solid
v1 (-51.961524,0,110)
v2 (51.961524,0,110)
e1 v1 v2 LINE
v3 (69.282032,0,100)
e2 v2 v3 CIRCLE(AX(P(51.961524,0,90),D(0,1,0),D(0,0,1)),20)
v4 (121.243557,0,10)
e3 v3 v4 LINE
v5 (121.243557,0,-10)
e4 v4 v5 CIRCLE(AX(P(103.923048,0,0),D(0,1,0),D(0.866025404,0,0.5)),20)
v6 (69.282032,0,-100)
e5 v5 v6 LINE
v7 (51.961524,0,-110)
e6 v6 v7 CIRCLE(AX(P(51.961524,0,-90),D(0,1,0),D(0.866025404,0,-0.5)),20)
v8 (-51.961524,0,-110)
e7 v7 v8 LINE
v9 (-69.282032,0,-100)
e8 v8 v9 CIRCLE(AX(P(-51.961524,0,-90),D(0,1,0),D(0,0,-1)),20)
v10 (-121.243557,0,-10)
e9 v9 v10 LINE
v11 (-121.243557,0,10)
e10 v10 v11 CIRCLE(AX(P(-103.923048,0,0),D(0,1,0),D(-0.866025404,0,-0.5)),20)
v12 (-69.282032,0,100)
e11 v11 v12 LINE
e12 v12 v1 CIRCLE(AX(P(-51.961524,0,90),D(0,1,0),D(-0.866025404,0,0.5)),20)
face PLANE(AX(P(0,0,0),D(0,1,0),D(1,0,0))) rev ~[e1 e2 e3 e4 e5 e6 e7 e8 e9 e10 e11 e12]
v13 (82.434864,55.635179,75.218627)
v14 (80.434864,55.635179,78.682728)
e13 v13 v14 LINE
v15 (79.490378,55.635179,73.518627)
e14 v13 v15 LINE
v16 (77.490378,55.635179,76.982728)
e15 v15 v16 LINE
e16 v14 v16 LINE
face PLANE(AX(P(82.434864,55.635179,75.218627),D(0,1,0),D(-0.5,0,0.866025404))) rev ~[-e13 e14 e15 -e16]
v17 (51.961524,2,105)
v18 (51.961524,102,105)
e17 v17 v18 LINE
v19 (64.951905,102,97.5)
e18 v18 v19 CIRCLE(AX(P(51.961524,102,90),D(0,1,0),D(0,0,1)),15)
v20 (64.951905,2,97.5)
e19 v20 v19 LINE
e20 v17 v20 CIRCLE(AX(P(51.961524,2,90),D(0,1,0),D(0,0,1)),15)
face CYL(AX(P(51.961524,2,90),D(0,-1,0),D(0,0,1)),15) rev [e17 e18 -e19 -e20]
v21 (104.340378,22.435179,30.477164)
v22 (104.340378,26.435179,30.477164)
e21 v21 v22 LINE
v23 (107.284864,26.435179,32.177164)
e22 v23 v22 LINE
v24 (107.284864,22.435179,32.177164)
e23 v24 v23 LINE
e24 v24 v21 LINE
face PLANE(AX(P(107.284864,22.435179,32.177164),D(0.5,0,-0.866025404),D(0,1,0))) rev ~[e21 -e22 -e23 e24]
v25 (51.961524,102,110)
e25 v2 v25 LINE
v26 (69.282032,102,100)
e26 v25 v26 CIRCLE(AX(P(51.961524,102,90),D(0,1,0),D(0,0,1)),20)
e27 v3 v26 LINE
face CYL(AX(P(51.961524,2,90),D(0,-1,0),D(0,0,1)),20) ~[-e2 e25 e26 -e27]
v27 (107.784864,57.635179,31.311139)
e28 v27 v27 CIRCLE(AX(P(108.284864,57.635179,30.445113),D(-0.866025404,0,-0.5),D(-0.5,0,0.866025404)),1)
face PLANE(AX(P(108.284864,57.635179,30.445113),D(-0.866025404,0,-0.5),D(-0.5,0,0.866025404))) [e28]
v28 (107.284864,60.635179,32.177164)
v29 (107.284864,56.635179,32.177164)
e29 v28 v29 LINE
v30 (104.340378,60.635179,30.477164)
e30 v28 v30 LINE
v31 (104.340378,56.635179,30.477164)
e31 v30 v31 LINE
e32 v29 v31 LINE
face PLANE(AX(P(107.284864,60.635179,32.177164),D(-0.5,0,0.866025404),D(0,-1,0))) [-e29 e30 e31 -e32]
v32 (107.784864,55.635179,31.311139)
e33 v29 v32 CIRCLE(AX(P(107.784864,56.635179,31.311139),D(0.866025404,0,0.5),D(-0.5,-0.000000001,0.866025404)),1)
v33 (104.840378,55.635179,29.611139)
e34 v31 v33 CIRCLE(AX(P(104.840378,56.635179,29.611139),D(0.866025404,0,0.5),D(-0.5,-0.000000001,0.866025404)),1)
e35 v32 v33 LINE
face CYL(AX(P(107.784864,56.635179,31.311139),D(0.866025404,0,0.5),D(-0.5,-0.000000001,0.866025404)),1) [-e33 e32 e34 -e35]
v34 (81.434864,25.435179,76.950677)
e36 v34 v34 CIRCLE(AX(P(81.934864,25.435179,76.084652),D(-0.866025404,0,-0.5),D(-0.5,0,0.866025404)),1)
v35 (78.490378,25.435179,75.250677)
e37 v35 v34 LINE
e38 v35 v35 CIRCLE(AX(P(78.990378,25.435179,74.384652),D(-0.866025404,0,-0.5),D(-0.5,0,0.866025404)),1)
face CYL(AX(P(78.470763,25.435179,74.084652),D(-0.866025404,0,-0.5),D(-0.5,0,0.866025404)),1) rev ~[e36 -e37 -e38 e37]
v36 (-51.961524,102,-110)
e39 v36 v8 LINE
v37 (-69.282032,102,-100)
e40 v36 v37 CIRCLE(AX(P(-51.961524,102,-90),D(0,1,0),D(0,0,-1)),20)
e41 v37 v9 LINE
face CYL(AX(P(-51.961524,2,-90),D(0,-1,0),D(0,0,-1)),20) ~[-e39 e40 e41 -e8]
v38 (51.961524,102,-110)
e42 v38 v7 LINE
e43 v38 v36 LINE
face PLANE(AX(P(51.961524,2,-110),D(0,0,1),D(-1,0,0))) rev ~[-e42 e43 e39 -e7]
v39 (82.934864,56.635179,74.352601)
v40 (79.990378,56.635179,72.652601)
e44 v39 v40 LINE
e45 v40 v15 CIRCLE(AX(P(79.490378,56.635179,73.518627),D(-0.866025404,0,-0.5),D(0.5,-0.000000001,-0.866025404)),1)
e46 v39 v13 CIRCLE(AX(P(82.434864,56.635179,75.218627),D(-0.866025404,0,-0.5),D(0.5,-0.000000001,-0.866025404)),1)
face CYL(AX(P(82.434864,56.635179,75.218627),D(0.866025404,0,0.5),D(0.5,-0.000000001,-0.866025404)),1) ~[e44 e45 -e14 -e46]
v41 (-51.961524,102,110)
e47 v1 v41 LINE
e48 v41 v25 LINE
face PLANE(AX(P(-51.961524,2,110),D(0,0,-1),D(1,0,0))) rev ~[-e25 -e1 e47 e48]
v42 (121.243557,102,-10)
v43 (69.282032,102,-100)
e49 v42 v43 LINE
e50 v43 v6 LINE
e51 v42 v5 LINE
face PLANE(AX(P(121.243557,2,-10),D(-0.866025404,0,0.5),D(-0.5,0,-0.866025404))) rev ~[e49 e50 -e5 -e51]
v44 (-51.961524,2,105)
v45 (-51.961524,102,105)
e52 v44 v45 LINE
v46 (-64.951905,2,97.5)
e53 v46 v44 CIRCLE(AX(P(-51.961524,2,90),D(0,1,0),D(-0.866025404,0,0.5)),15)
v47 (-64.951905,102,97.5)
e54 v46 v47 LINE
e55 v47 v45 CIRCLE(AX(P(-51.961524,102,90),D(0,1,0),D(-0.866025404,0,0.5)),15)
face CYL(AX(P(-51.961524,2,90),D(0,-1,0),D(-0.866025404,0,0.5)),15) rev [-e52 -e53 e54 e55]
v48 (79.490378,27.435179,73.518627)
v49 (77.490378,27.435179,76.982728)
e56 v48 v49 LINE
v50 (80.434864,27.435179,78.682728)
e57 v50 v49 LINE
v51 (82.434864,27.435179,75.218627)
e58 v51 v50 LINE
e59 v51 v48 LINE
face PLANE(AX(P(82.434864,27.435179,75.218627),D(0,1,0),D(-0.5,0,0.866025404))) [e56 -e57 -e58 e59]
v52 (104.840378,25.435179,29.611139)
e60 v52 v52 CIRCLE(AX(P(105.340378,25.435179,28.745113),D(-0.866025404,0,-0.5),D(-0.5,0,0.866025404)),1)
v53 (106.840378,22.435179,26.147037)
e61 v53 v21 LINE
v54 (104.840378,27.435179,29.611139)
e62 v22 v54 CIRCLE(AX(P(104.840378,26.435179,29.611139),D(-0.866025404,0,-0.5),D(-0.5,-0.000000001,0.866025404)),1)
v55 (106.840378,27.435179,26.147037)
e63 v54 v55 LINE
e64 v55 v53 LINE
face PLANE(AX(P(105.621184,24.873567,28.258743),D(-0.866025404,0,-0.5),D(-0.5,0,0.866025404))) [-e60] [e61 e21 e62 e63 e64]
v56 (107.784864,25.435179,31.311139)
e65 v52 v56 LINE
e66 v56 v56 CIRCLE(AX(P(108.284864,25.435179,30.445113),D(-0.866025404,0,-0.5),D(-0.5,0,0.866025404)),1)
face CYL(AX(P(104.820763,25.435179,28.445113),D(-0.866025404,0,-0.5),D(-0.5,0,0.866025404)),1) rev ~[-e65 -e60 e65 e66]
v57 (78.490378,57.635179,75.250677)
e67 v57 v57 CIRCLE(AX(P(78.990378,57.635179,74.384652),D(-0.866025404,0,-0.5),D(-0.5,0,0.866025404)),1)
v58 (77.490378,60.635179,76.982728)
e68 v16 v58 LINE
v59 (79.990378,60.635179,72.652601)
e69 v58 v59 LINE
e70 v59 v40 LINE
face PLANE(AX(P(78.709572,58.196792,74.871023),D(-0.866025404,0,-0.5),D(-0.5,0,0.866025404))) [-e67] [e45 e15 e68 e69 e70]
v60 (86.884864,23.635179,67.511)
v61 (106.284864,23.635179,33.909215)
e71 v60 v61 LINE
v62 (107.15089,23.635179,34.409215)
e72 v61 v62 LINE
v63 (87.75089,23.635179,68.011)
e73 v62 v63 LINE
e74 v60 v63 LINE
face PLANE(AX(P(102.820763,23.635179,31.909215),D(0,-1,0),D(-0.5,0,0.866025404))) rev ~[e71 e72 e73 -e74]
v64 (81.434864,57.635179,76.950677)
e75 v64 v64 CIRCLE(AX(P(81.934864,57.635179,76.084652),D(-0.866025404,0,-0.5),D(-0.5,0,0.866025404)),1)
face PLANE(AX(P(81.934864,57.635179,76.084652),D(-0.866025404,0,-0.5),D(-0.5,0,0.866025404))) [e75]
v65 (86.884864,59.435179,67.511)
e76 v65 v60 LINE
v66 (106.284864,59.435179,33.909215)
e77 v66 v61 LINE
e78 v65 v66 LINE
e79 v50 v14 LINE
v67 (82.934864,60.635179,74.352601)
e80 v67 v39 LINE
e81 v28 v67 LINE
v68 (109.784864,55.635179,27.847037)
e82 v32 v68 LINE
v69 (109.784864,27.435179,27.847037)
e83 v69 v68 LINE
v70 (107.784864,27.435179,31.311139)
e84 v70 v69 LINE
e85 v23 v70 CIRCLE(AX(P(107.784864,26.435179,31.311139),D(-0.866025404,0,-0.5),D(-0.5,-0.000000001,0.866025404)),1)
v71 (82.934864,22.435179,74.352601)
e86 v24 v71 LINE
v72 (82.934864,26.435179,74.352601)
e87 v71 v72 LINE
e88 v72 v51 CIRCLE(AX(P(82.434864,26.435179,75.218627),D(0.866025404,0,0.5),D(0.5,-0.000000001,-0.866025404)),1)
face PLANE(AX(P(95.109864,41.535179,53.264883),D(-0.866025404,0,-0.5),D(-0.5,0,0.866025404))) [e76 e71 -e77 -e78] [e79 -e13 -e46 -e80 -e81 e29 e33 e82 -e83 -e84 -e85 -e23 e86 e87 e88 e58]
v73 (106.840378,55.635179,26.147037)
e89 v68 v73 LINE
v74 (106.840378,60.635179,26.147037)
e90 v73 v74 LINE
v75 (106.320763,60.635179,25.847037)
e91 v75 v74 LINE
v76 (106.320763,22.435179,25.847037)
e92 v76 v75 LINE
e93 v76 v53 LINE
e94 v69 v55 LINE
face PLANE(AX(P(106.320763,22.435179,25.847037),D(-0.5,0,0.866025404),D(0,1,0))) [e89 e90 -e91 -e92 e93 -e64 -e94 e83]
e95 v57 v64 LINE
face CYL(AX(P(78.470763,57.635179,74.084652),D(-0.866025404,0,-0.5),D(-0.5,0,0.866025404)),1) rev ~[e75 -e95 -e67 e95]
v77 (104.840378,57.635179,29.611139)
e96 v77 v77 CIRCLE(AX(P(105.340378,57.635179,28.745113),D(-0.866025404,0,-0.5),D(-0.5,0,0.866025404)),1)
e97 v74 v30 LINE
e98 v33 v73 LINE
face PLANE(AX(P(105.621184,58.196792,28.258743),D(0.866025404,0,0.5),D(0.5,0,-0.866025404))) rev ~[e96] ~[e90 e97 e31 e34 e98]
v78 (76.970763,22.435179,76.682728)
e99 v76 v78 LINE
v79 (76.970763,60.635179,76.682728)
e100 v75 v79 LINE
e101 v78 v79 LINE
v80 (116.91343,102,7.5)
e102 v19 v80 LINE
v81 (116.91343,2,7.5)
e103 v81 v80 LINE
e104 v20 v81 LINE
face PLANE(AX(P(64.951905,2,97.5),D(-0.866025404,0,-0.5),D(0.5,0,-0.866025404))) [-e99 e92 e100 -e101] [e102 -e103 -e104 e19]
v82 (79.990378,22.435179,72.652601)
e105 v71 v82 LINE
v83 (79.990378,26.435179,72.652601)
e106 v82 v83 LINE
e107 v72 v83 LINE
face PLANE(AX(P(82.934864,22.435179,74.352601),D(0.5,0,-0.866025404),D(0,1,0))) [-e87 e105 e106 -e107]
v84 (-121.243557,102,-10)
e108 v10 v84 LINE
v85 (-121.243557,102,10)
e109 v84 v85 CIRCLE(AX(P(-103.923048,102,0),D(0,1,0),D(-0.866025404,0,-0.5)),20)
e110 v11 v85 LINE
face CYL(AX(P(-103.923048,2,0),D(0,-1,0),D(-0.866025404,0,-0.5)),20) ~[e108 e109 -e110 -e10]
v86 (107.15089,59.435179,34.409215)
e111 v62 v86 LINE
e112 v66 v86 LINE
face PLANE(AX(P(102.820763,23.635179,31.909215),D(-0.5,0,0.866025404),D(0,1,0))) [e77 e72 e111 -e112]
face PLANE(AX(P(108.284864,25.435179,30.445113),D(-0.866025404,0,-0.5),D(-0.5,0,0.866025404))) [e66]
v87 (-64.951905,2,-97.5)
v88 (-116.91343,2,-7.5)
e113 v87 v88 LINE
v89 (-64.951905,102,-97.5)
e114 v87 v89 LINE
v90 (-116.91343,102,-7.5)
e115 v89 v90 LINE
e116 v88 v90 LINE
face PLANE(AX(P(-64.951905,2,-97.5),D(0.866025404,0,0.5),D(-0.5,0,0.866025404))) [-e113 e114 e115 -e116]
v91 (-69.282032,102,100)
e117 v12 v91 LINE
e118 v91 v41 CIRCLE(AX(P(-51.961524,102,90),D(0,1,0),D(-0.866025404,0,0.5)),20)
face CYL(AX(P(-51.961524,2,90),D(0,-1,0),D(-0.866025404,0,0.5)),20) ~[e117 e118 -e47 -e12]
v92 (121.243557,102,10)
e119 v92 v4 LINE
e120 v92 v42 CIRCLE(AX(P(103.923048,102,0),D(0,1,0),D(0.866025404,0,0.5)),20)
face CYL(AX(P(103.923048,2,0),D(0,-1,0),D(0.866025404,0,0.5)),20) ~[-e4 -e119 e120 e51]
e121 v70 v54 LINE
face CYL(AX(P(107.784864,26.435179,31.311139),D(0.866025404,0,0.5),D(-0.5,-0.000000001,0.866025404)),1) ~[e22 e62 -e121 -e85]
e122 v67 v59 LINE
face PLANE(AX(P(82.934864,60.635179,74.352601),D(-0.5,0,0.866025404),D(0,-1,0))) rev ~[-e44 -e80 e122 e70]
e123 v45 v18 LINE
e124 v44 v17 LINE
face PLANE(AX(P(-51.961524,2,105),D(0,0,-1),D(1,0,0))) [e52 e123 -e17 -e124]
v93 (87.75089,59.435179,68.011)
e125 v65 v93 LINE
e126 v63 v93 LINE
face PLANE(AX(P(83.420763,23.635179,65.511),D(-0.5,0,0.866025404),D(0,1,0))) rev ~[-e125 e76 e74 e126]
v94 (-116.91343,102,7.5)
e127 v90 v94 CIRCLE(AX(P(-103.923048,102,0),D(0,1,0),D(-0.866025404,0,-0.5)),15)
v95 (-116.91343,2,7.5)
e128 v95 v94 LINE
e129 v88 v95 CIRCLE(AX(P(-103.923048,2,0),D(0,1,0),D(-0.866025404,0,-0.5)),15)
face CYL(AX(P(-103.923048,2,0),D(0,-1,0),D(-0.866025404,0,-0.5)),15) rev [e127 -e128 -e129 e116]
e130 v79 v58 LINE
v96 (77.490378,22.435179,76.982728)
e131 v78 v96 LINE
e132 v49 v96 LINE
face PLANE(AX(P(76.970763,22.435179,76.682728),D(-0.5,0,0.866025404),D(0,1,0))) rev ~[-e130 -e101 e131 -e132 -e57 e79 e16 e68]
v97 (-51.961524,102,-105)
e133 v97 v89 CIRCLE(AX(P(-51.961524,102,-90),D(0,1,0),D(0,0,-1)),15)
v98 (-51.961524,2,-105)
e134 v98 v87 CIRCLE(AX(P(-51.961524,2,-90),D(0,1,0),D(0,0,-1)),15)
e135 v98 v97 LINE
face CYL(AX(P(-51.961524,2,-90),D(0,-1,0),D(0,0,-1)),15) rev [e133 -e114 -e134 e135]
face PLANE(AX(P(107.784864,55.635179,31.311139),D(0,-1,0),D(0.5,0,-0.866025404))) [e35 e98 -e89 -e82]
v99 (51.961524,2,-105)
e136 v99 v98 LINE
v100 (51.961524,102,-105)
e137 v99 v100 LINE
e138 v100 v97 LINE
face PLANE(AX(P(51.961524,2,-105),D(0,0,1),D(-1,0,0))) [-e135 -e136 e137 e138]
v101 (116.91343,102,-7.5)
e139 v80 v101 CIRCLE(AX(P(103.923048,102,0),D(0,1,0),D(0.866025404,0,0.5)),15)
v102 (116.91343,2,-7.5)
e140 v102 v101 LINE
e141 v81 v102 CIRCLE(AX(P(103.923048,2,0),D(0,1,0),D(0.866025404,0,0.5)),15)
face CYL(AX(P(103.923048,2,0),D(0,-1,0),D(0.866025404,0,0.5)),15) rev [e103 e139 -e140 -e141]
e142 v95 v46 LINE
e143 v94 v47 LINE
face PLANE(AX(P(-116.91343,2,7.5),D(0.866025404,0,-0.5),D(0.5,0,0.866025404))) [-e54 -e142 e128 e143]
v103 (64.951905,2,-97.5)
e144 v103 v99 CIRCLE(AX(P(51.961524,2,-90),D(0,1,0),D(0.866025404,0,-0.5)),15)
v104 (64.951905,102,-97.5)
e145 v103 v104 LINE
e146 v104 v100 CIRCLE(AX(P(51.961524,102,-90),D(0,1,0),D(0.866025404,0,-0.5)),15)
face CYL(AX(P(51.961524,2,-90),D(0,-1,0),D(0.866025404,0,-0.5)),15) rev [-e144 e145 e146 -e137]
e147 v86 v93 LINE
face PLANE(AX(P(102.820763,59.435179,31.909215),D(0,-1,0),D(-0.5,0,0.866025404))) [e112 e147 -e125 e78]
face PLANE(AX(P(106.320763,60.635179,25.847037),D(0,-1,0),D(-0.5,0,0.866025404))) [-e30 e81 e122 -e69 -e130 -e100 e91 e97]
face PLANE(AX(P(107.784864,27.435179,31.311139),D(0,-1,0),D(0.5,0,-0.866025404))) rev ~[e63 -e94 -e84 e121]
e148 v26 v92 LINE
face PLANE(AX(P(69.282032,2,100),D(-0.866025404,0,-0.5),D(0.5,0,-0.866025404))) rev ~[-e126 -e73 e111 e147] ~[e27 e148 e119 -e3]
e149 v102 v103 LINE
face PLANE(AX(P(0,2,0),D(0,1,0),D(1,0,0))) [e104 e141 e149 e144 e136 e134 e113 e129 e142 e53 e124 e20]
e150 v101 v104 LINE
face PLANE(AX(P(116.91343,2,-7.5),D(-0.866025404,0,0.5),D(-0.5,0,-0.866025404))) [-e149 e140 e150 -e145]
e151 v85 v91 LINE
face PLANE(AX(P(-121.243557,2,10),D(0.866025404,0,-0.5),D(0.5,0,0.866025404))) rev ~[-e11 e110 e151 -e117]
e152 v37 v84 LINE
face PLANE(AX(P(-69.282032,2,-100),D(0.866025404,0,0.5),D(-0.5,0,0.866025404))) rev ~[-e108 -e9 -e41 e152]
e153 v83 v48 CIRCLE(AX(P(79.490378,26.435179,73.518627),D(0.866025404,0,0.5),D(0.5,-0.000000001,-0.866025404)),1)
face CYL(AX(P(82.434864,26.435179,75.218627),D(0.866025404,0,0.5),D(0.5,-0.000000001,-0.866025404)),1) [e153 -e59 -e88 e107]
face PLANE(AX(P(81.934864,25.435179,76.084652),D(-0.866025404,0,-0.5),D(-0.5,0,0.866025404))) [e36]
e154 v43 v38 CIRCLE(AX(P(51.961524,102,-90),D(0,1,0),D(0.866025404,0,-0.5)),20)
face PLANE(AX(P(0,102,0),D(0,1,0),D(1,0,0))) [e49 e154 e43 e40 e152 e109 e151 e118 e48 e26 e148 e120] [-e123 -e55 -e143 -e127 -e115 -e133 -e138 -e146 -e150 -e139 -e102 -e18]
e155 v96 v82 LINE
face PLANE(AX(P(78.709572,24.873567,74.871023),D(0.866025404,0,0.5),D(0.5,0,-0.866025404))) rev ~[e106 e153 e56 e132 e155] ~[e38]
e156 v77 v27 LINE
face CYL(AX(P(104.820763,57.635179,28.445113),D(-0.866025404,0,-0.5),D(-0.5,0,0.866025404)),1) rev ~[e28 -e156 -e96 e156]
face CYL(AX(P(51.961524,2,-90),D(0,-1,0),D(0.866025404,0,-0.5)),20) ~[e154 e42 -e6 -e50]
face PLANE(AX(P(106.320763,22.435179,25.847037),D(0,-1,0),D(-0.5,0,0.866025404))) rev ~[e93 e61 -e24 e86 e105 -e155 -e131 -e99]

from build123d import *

# Parameters (mm, degrees)
SALIENTE_EXTRUIR1_DEPTH = 2
SALIENTE_EXTRUIR2_DEPTH = 100
CROQUIS3_W              = 58.7
CROQUIS3_H              = 38.2
CROQUIS3_R              = 1.5
CROQUIS3_W_2            = 38.8
CROQUIS3_H_2            = 35.8
CORTAR_EXTRUIR1_DEPTH   = 1
CROQUIS4_W              = 38.8
CROQUIS4_H              = 35.8
CORTAR_EXTRUIR2_DEPTH   = 12
CROQUIS5_W              = 58.7
CROQUIS5_H              = 38.2
CROQUIS5_R              = 1.5
CORTAR_EXTRUIR3_DEPTH   = 3
CROQUIS6_R              = 1
SALIENTE_EXTRUIR3_DEPTH = 3.4
CROQUIS8_R              = 1
CORTAR_EXTRUIR5_DEPTH   = 4
CORTAR_EXTRUIR6_DEPTH   = 0.6


with BuildPart() as part:
    # Croquis1 → Saliente-Extruir1 (new body)
    with BuildSketch(Plane(origin=(0, 0, 0), x_dir=(1, 0, 0), z_dir=(0, 1, 0))):
        with BuildLine():
            Line((-121.24355653, -10), (-69.282032303, -100))
            ThreePointArc((-69.282032303, -100), (-61.961524227, -107.320508076), (-51.961524227, -110))
            Line((-51.961524227, -110), (51.961524227, -110))
            ThreePointArc((51.961524227, -110), (61.961524227, -107.320508076), (69.282032303, -100))
            Line((69.282032303, -100), (121.24355653, -10))
            ThreePointArc((121.24355653, -10), (123.923048454, 0), (121.24355653, 10))
            Line((121.24355653, 10), (69.282032303, 100))
            ThreePointArc((69.282032303, 100), (61.961524227, 107.320508076), (51.961524227, 110))
            Line((51.961524227, 110), (-51.961524227, 110))
            ThreePointArc((-51.961524227, 110), (-61.961524227, 107.320508076), (-69.282032303, 100))
            Line((-69.282032303, 100), (-121.24355653, 10))
            ThreePointArc((-121.24355653, 10), (-123.923048454, 0), (-121.24355653, -10))
        make_face()
    extrude(amount=SALIENTE_EXTRUIR1_DEPTH)

    # Croquis2 → Saliente-Extruir2 (add)
    with BuildSketch(Plane(origin=(0, 2, 0), x_dir=(1, 0, 0), z_dir=(0, 1, 0))):
        with BuildLine():
            Line((-69.282032303, 100), (-121.24355653, 10))
            ThreePointArc((-121.24355653, 10), (-123.923048454, 0), (-121.24355653, -10))
            Line((-121.24355653, -10), (-69.282032303, -100))
            ThreePointArc((-69.282032303, -100), (-61.961524227, -107.320508076), (-51.961524227, -110))
            Line((-51.961524227, -110), (51.961524227, -110))
            ThreePointArc((51.961524227, -110), (61.961524227, -107.320508076), (69.282032303, -100))
            Line((69.282032303, -100), (121.24355653, -10))
            ThreePointArc((121.24355653, -10), (123.923048454, 0), (121.24355653, 10))
            Line((121.24355653, 10), (69.282032303, 100))
            ThreePointArc((69.282032303, 100), (61.961524227, 107.320508076), (51.961524227, 110))
            Line((51.961524227, 110), (-51.961524227, 110))
            ThreePointArc((-51.961524227, 110), (-61.961524227, 107.320508076), (-69.282032303, 100))
        make_face()
        with BuildLine():
            Line((-64.951905284, 97.5), (-116.913429511, 7.5))
            ThreePointArc((-116.913429511, 7.5), (-118.923048454, 0), (-116.913429511, -7.5))
            Line((-116.913429511, -7.5), (-64.951905284, -97.5))
            ThreePointArc((-64.951905284, -97.5), (-59.461524227, -102.990381057), (-51.961524227, -105))
            Line((-51.961524227, -105), (51.961524227, -105))
            ThreePointArc((51.961524227, -105), (59.461524227, -102.990381057), (64.951905284, -97.5))
            Line((64.951905284, -97.5), (116.913429511, -7.5))
            ThreePointArc((116.913429511, -7.5), (118.923048454, 0), (116.913429511, 7.5))
            Line((116.913429511, 7.5), (64.951905284, 97.5))
            ThreePointArc((64.951905284, 97.5), (59.461524227, 102.990381057), (51.961524227, 105))
            Line((51.961524227, 105), (-51.961524227, 105))
            ThreePointArc((-51.961524227, 105), (-59.461524227, 102.990381057), (-64.951905284, 97.5))
        make_face(mode=Mode.SUBTRACT)
    extrude(amount=SALIENTE_EXTRUIR2_DEPTH)

    # Croquis3 → Cortar-Extruir1 (cut)
    with BuildSketch(Plane(origin=(90.932667397, 0, 52.5), x_dir=(-0.49999999999999983, 0, 0.8660254037844387), z_dir=(-0.8660254037844387, 0, -0.49999999999999983))):
        with Locations((-1.426190801, 41.535179267)):
            Rectangle(CROQUIS3_W, CROQUIS3_H)
        with Locations((24.923809199, 57.635179267)):
            Circle(CROQUIS3_R, mode=Mode.SUBTRACT)
        with Locations((24.923809199, 25.435179267)):
            Circle(CROQUIS3_R, mode=Mode.SUBTRACT)
        with Locations((-27.776190801, 25.435179267)):
            Circle(CROQUIS3_R, mode=Mode.SUBTRACT)
        with Locations((-27.776190801, 57.635179267)):
            Circle(CROQUIS3_R, mode=Mode.SUBTRACT)
        with Locations((-4.376190801, 41.535179267)):
            Rectangle(CROQUIS3_W_2, CROQUIS3_H_2, mode=Mode.SUBTRACT)
    extrude(amount=-CORTAR_EXTRUIR1_DEPTH, mode=Mode.SUBTRACT)

    # Croquis4 → Cortar-Extruir2 (cut)
    with BuildSketch(Plane(origin=(90.932667397, 0, 52.5), x_dir=(-0.49999999999999983, 0, 0.8660254037844387), z_dir=(-0.8660254037844387, 0, -0.49999999999999983))):
        with Locations((-4.376190801, 41.535179267)):
            Rectangle(CROQUIS4_W, CROQUIS4_H)
    extrude(amount=-CORTAR_EXTRUIR2_DEPTH, mode=Mode.SUBTRACT)

    # Croquis5 → Cortar-Extruir3 (cut)
    with BuildSketch(Plane(origin=(91.798692801, 0, 53), x_dir=(-0.5, 0, 0.8660254037844386), z_dir=(-0.8660254037844387, 0, -0.5000000000000001))):
        with Locations((-1.426190801, 41.535179267)):
            Rectangle(CROQUIS5_W, CROQUIS5_H)
        with Locations((24.923809199, 25.435179267)):
            Circle(CROQUIS5_R, mode=Mode.SUBTRACT)
        with Locations((24.923809199, 57.635179267)):
            Circle(CROQUIS5_R, mode=Mode.SUBTRACT)
        with Locations((-27.776190801, 57.635179267)):
            Circle(CROQUIS5_R, mode=Mode.SUBTRACT)
        with Locations((-27.776190801, 25.435179267)):
            Circle(CROQUIS5_R, mode=Mode.SUBTRACT)
    extrude(amount=-CORTAR_EXTRUIR3_DEPTH, mode=Mode.SUBTRACT)

    # Croquis6 → Saliente-Extruir3 (add)
    # profile 1 of 4: a face of its own
    with BuildSketch(Plane(origin=(94.396769013, 0, 54.5), x_dir=(-0.5000000000000001, 0, 0.8660254037844386), z_dir=(-0.8660254037844386, 0, -0.5000000000000001))):
        with BuildLine():
            Line((-30.776190801, 60.635179267), (-25.776190801, 60.635179267))
            Line((-25.776190801, 60.635179267), (-25.776190801, 56.635179267))
            ThreePointArc((-25.776190801, 56.635179267), (-26.06908402, 55.928072486), (-26.776190801, 55.635179267))
            Line((-26.776190801, 55.635179267), (-30.776190801, 55.635179267))
            Line((-30.776190801, 55.635179267), (-30.776190801, 60.635179267))
        make_face()
        with Locations((-27.776190801, 57.635179267)):
            Circle(CROQUIS6_R, mode=Mode.SUBTRACT)
    # profile 2 of 4: a face of its own
    with BuildSketch(Plane(origin=(94.396769013, 0, 54.5), x_dir=(-0.5000000000000001, 0, 0.8660254037844386), z_dir=(-0.8660254037844386, 0, -0.5000000000000001))):
        with BuildLine():
            Line((-30.776190801, 22.435179267), (-25.776190801, 22.435179267))
            Line((-25.776190801, 22.435179267), (-25.776190801, 26.435179267))
            ThreePointArc((-25.776190801, 26.435179267), (-26.06908402, 27.142286049), (-26.776190801, 27.435179267))
            Line((-26.776190801, 27.435179267), (-30.776190801, 27.435179267))
            Line((-30.776190801, 27.435179267), (-30.776190801, 22.435179267))
        make_face()
        with Locations((-27.776190801, 25.435179267)):
            Circle(CROQUIS6_R, mode=Mode.SUBTRACT)
    # profile 3 of 4: a face of its own
    with BuildSketch(Plane(origin=(94.396769013, 0, 54.5), x_dir=(-0.5000000000000001, 0, 0.8660254037844386), z_dir=(-0.8660254037844386, 0, -0.5000000000000001))):
        with BuildLine():
            Line((27.923809199, 22.435179267), (22.923809199, 22.435179267))
            Line((22.923809199, 22.435179267), (22.923809199, 26.435179267))
            ThreePointArc((22.923809199, 26.435179267), (23.216702418, 27.142286049), (23.923809199, 27.435179267))
            Line((23.923809199, 27.435179267), (27.923809199, 27.435179267))
            Line((27.923809199, 27.435179267), (27.923809199, 22.435179267))
        make_face()
        with Locations((24.923809199, 25.435179267)):
            Circle(CROQUIS6_R, mode=Mode.SUBTRACT)
    # profile 4 of 4: a face of its own
    with BuildSketch(Plane(origin=(94.396769013, 0, 54.5), x_dir=(-0.5000000000000001, 0, 0.8660254037844386), z_dir=(-0.8660254037844386, 0, -0.5000000000000001))):
        with BuildLine():
            Line((27.923809199, 60.635179267), (22.923809199, 60.635179267))
            Line((22.923809199, 60.635179267), (22.923809199, 56.635179267))
            ThreePointArc((22.923809199, 56.635179267), (23.216702418, 55.928072486), (23.923809199, 55.635179267))
            Line((23.923809199, 55.635179267), (27.923809199, 55.635179267))
            Line((27.923809199, 55.635179267), (27.923809199, 60.635179267))
        make_face()
        with Locations((24.923809199, 57.635179267)):
            Circle(CROQUIS6_R, mode=Mode.SUBTRACT)
    extrude(amount=SALIENTE_EXTRUIR3_DEPTH)

    # Croquis8 → Cortar-Extruir5 (cut)
    with BuildSketch(Plane(origin=(90.932667397, 0, 52.5), x_dir=(-0.49999999999999983, 0, 0.8660254037844387), z_dir=(-0.8660254037844387, 0, -0.49999999999999983))):
        with Locations((-27.776190801, 57.635179267)):
            Circle(CROQUIS8_R)
        with Locations((-27.776190801, 25.435179267)):
            Circle(CROQUIS8_R)
        with Locations((24.923809199, 25.435179267)):
            Circle(CROQUIS8_R)
        with Locations((24.923809199, 57.635179267)):
            Circle(CROQUIS8_R)
    extrude(amount=-CORTAR_EXTRUIR5_DEPTH, mode=Mode.SUBTRACT)

    # Croquis10 → Cortar-Extruir6 (cut)
    with BuildSketch(Plane(origin=(90.932667397, 0, 52.5), x_dir=(-0.49999999999999983, 0, 0.8660254037844387), z_dir=(-0.8660254037844387, 0, -0.49999999999999983))):
        Polygon((27.923809199, 22.435179267), (27.923809199, 60.635179267), (-30.776190801, 60.635179267), (-30.776190801, 55.635179267), (-30.776190801, 27.435179267), (-30.776190801, 22.435179267), align=None)
    extrude(amount=-CORTAR_EXTRUIR6_DEPTH, mode=Mode.SUBTRACT)


solid = part.part
